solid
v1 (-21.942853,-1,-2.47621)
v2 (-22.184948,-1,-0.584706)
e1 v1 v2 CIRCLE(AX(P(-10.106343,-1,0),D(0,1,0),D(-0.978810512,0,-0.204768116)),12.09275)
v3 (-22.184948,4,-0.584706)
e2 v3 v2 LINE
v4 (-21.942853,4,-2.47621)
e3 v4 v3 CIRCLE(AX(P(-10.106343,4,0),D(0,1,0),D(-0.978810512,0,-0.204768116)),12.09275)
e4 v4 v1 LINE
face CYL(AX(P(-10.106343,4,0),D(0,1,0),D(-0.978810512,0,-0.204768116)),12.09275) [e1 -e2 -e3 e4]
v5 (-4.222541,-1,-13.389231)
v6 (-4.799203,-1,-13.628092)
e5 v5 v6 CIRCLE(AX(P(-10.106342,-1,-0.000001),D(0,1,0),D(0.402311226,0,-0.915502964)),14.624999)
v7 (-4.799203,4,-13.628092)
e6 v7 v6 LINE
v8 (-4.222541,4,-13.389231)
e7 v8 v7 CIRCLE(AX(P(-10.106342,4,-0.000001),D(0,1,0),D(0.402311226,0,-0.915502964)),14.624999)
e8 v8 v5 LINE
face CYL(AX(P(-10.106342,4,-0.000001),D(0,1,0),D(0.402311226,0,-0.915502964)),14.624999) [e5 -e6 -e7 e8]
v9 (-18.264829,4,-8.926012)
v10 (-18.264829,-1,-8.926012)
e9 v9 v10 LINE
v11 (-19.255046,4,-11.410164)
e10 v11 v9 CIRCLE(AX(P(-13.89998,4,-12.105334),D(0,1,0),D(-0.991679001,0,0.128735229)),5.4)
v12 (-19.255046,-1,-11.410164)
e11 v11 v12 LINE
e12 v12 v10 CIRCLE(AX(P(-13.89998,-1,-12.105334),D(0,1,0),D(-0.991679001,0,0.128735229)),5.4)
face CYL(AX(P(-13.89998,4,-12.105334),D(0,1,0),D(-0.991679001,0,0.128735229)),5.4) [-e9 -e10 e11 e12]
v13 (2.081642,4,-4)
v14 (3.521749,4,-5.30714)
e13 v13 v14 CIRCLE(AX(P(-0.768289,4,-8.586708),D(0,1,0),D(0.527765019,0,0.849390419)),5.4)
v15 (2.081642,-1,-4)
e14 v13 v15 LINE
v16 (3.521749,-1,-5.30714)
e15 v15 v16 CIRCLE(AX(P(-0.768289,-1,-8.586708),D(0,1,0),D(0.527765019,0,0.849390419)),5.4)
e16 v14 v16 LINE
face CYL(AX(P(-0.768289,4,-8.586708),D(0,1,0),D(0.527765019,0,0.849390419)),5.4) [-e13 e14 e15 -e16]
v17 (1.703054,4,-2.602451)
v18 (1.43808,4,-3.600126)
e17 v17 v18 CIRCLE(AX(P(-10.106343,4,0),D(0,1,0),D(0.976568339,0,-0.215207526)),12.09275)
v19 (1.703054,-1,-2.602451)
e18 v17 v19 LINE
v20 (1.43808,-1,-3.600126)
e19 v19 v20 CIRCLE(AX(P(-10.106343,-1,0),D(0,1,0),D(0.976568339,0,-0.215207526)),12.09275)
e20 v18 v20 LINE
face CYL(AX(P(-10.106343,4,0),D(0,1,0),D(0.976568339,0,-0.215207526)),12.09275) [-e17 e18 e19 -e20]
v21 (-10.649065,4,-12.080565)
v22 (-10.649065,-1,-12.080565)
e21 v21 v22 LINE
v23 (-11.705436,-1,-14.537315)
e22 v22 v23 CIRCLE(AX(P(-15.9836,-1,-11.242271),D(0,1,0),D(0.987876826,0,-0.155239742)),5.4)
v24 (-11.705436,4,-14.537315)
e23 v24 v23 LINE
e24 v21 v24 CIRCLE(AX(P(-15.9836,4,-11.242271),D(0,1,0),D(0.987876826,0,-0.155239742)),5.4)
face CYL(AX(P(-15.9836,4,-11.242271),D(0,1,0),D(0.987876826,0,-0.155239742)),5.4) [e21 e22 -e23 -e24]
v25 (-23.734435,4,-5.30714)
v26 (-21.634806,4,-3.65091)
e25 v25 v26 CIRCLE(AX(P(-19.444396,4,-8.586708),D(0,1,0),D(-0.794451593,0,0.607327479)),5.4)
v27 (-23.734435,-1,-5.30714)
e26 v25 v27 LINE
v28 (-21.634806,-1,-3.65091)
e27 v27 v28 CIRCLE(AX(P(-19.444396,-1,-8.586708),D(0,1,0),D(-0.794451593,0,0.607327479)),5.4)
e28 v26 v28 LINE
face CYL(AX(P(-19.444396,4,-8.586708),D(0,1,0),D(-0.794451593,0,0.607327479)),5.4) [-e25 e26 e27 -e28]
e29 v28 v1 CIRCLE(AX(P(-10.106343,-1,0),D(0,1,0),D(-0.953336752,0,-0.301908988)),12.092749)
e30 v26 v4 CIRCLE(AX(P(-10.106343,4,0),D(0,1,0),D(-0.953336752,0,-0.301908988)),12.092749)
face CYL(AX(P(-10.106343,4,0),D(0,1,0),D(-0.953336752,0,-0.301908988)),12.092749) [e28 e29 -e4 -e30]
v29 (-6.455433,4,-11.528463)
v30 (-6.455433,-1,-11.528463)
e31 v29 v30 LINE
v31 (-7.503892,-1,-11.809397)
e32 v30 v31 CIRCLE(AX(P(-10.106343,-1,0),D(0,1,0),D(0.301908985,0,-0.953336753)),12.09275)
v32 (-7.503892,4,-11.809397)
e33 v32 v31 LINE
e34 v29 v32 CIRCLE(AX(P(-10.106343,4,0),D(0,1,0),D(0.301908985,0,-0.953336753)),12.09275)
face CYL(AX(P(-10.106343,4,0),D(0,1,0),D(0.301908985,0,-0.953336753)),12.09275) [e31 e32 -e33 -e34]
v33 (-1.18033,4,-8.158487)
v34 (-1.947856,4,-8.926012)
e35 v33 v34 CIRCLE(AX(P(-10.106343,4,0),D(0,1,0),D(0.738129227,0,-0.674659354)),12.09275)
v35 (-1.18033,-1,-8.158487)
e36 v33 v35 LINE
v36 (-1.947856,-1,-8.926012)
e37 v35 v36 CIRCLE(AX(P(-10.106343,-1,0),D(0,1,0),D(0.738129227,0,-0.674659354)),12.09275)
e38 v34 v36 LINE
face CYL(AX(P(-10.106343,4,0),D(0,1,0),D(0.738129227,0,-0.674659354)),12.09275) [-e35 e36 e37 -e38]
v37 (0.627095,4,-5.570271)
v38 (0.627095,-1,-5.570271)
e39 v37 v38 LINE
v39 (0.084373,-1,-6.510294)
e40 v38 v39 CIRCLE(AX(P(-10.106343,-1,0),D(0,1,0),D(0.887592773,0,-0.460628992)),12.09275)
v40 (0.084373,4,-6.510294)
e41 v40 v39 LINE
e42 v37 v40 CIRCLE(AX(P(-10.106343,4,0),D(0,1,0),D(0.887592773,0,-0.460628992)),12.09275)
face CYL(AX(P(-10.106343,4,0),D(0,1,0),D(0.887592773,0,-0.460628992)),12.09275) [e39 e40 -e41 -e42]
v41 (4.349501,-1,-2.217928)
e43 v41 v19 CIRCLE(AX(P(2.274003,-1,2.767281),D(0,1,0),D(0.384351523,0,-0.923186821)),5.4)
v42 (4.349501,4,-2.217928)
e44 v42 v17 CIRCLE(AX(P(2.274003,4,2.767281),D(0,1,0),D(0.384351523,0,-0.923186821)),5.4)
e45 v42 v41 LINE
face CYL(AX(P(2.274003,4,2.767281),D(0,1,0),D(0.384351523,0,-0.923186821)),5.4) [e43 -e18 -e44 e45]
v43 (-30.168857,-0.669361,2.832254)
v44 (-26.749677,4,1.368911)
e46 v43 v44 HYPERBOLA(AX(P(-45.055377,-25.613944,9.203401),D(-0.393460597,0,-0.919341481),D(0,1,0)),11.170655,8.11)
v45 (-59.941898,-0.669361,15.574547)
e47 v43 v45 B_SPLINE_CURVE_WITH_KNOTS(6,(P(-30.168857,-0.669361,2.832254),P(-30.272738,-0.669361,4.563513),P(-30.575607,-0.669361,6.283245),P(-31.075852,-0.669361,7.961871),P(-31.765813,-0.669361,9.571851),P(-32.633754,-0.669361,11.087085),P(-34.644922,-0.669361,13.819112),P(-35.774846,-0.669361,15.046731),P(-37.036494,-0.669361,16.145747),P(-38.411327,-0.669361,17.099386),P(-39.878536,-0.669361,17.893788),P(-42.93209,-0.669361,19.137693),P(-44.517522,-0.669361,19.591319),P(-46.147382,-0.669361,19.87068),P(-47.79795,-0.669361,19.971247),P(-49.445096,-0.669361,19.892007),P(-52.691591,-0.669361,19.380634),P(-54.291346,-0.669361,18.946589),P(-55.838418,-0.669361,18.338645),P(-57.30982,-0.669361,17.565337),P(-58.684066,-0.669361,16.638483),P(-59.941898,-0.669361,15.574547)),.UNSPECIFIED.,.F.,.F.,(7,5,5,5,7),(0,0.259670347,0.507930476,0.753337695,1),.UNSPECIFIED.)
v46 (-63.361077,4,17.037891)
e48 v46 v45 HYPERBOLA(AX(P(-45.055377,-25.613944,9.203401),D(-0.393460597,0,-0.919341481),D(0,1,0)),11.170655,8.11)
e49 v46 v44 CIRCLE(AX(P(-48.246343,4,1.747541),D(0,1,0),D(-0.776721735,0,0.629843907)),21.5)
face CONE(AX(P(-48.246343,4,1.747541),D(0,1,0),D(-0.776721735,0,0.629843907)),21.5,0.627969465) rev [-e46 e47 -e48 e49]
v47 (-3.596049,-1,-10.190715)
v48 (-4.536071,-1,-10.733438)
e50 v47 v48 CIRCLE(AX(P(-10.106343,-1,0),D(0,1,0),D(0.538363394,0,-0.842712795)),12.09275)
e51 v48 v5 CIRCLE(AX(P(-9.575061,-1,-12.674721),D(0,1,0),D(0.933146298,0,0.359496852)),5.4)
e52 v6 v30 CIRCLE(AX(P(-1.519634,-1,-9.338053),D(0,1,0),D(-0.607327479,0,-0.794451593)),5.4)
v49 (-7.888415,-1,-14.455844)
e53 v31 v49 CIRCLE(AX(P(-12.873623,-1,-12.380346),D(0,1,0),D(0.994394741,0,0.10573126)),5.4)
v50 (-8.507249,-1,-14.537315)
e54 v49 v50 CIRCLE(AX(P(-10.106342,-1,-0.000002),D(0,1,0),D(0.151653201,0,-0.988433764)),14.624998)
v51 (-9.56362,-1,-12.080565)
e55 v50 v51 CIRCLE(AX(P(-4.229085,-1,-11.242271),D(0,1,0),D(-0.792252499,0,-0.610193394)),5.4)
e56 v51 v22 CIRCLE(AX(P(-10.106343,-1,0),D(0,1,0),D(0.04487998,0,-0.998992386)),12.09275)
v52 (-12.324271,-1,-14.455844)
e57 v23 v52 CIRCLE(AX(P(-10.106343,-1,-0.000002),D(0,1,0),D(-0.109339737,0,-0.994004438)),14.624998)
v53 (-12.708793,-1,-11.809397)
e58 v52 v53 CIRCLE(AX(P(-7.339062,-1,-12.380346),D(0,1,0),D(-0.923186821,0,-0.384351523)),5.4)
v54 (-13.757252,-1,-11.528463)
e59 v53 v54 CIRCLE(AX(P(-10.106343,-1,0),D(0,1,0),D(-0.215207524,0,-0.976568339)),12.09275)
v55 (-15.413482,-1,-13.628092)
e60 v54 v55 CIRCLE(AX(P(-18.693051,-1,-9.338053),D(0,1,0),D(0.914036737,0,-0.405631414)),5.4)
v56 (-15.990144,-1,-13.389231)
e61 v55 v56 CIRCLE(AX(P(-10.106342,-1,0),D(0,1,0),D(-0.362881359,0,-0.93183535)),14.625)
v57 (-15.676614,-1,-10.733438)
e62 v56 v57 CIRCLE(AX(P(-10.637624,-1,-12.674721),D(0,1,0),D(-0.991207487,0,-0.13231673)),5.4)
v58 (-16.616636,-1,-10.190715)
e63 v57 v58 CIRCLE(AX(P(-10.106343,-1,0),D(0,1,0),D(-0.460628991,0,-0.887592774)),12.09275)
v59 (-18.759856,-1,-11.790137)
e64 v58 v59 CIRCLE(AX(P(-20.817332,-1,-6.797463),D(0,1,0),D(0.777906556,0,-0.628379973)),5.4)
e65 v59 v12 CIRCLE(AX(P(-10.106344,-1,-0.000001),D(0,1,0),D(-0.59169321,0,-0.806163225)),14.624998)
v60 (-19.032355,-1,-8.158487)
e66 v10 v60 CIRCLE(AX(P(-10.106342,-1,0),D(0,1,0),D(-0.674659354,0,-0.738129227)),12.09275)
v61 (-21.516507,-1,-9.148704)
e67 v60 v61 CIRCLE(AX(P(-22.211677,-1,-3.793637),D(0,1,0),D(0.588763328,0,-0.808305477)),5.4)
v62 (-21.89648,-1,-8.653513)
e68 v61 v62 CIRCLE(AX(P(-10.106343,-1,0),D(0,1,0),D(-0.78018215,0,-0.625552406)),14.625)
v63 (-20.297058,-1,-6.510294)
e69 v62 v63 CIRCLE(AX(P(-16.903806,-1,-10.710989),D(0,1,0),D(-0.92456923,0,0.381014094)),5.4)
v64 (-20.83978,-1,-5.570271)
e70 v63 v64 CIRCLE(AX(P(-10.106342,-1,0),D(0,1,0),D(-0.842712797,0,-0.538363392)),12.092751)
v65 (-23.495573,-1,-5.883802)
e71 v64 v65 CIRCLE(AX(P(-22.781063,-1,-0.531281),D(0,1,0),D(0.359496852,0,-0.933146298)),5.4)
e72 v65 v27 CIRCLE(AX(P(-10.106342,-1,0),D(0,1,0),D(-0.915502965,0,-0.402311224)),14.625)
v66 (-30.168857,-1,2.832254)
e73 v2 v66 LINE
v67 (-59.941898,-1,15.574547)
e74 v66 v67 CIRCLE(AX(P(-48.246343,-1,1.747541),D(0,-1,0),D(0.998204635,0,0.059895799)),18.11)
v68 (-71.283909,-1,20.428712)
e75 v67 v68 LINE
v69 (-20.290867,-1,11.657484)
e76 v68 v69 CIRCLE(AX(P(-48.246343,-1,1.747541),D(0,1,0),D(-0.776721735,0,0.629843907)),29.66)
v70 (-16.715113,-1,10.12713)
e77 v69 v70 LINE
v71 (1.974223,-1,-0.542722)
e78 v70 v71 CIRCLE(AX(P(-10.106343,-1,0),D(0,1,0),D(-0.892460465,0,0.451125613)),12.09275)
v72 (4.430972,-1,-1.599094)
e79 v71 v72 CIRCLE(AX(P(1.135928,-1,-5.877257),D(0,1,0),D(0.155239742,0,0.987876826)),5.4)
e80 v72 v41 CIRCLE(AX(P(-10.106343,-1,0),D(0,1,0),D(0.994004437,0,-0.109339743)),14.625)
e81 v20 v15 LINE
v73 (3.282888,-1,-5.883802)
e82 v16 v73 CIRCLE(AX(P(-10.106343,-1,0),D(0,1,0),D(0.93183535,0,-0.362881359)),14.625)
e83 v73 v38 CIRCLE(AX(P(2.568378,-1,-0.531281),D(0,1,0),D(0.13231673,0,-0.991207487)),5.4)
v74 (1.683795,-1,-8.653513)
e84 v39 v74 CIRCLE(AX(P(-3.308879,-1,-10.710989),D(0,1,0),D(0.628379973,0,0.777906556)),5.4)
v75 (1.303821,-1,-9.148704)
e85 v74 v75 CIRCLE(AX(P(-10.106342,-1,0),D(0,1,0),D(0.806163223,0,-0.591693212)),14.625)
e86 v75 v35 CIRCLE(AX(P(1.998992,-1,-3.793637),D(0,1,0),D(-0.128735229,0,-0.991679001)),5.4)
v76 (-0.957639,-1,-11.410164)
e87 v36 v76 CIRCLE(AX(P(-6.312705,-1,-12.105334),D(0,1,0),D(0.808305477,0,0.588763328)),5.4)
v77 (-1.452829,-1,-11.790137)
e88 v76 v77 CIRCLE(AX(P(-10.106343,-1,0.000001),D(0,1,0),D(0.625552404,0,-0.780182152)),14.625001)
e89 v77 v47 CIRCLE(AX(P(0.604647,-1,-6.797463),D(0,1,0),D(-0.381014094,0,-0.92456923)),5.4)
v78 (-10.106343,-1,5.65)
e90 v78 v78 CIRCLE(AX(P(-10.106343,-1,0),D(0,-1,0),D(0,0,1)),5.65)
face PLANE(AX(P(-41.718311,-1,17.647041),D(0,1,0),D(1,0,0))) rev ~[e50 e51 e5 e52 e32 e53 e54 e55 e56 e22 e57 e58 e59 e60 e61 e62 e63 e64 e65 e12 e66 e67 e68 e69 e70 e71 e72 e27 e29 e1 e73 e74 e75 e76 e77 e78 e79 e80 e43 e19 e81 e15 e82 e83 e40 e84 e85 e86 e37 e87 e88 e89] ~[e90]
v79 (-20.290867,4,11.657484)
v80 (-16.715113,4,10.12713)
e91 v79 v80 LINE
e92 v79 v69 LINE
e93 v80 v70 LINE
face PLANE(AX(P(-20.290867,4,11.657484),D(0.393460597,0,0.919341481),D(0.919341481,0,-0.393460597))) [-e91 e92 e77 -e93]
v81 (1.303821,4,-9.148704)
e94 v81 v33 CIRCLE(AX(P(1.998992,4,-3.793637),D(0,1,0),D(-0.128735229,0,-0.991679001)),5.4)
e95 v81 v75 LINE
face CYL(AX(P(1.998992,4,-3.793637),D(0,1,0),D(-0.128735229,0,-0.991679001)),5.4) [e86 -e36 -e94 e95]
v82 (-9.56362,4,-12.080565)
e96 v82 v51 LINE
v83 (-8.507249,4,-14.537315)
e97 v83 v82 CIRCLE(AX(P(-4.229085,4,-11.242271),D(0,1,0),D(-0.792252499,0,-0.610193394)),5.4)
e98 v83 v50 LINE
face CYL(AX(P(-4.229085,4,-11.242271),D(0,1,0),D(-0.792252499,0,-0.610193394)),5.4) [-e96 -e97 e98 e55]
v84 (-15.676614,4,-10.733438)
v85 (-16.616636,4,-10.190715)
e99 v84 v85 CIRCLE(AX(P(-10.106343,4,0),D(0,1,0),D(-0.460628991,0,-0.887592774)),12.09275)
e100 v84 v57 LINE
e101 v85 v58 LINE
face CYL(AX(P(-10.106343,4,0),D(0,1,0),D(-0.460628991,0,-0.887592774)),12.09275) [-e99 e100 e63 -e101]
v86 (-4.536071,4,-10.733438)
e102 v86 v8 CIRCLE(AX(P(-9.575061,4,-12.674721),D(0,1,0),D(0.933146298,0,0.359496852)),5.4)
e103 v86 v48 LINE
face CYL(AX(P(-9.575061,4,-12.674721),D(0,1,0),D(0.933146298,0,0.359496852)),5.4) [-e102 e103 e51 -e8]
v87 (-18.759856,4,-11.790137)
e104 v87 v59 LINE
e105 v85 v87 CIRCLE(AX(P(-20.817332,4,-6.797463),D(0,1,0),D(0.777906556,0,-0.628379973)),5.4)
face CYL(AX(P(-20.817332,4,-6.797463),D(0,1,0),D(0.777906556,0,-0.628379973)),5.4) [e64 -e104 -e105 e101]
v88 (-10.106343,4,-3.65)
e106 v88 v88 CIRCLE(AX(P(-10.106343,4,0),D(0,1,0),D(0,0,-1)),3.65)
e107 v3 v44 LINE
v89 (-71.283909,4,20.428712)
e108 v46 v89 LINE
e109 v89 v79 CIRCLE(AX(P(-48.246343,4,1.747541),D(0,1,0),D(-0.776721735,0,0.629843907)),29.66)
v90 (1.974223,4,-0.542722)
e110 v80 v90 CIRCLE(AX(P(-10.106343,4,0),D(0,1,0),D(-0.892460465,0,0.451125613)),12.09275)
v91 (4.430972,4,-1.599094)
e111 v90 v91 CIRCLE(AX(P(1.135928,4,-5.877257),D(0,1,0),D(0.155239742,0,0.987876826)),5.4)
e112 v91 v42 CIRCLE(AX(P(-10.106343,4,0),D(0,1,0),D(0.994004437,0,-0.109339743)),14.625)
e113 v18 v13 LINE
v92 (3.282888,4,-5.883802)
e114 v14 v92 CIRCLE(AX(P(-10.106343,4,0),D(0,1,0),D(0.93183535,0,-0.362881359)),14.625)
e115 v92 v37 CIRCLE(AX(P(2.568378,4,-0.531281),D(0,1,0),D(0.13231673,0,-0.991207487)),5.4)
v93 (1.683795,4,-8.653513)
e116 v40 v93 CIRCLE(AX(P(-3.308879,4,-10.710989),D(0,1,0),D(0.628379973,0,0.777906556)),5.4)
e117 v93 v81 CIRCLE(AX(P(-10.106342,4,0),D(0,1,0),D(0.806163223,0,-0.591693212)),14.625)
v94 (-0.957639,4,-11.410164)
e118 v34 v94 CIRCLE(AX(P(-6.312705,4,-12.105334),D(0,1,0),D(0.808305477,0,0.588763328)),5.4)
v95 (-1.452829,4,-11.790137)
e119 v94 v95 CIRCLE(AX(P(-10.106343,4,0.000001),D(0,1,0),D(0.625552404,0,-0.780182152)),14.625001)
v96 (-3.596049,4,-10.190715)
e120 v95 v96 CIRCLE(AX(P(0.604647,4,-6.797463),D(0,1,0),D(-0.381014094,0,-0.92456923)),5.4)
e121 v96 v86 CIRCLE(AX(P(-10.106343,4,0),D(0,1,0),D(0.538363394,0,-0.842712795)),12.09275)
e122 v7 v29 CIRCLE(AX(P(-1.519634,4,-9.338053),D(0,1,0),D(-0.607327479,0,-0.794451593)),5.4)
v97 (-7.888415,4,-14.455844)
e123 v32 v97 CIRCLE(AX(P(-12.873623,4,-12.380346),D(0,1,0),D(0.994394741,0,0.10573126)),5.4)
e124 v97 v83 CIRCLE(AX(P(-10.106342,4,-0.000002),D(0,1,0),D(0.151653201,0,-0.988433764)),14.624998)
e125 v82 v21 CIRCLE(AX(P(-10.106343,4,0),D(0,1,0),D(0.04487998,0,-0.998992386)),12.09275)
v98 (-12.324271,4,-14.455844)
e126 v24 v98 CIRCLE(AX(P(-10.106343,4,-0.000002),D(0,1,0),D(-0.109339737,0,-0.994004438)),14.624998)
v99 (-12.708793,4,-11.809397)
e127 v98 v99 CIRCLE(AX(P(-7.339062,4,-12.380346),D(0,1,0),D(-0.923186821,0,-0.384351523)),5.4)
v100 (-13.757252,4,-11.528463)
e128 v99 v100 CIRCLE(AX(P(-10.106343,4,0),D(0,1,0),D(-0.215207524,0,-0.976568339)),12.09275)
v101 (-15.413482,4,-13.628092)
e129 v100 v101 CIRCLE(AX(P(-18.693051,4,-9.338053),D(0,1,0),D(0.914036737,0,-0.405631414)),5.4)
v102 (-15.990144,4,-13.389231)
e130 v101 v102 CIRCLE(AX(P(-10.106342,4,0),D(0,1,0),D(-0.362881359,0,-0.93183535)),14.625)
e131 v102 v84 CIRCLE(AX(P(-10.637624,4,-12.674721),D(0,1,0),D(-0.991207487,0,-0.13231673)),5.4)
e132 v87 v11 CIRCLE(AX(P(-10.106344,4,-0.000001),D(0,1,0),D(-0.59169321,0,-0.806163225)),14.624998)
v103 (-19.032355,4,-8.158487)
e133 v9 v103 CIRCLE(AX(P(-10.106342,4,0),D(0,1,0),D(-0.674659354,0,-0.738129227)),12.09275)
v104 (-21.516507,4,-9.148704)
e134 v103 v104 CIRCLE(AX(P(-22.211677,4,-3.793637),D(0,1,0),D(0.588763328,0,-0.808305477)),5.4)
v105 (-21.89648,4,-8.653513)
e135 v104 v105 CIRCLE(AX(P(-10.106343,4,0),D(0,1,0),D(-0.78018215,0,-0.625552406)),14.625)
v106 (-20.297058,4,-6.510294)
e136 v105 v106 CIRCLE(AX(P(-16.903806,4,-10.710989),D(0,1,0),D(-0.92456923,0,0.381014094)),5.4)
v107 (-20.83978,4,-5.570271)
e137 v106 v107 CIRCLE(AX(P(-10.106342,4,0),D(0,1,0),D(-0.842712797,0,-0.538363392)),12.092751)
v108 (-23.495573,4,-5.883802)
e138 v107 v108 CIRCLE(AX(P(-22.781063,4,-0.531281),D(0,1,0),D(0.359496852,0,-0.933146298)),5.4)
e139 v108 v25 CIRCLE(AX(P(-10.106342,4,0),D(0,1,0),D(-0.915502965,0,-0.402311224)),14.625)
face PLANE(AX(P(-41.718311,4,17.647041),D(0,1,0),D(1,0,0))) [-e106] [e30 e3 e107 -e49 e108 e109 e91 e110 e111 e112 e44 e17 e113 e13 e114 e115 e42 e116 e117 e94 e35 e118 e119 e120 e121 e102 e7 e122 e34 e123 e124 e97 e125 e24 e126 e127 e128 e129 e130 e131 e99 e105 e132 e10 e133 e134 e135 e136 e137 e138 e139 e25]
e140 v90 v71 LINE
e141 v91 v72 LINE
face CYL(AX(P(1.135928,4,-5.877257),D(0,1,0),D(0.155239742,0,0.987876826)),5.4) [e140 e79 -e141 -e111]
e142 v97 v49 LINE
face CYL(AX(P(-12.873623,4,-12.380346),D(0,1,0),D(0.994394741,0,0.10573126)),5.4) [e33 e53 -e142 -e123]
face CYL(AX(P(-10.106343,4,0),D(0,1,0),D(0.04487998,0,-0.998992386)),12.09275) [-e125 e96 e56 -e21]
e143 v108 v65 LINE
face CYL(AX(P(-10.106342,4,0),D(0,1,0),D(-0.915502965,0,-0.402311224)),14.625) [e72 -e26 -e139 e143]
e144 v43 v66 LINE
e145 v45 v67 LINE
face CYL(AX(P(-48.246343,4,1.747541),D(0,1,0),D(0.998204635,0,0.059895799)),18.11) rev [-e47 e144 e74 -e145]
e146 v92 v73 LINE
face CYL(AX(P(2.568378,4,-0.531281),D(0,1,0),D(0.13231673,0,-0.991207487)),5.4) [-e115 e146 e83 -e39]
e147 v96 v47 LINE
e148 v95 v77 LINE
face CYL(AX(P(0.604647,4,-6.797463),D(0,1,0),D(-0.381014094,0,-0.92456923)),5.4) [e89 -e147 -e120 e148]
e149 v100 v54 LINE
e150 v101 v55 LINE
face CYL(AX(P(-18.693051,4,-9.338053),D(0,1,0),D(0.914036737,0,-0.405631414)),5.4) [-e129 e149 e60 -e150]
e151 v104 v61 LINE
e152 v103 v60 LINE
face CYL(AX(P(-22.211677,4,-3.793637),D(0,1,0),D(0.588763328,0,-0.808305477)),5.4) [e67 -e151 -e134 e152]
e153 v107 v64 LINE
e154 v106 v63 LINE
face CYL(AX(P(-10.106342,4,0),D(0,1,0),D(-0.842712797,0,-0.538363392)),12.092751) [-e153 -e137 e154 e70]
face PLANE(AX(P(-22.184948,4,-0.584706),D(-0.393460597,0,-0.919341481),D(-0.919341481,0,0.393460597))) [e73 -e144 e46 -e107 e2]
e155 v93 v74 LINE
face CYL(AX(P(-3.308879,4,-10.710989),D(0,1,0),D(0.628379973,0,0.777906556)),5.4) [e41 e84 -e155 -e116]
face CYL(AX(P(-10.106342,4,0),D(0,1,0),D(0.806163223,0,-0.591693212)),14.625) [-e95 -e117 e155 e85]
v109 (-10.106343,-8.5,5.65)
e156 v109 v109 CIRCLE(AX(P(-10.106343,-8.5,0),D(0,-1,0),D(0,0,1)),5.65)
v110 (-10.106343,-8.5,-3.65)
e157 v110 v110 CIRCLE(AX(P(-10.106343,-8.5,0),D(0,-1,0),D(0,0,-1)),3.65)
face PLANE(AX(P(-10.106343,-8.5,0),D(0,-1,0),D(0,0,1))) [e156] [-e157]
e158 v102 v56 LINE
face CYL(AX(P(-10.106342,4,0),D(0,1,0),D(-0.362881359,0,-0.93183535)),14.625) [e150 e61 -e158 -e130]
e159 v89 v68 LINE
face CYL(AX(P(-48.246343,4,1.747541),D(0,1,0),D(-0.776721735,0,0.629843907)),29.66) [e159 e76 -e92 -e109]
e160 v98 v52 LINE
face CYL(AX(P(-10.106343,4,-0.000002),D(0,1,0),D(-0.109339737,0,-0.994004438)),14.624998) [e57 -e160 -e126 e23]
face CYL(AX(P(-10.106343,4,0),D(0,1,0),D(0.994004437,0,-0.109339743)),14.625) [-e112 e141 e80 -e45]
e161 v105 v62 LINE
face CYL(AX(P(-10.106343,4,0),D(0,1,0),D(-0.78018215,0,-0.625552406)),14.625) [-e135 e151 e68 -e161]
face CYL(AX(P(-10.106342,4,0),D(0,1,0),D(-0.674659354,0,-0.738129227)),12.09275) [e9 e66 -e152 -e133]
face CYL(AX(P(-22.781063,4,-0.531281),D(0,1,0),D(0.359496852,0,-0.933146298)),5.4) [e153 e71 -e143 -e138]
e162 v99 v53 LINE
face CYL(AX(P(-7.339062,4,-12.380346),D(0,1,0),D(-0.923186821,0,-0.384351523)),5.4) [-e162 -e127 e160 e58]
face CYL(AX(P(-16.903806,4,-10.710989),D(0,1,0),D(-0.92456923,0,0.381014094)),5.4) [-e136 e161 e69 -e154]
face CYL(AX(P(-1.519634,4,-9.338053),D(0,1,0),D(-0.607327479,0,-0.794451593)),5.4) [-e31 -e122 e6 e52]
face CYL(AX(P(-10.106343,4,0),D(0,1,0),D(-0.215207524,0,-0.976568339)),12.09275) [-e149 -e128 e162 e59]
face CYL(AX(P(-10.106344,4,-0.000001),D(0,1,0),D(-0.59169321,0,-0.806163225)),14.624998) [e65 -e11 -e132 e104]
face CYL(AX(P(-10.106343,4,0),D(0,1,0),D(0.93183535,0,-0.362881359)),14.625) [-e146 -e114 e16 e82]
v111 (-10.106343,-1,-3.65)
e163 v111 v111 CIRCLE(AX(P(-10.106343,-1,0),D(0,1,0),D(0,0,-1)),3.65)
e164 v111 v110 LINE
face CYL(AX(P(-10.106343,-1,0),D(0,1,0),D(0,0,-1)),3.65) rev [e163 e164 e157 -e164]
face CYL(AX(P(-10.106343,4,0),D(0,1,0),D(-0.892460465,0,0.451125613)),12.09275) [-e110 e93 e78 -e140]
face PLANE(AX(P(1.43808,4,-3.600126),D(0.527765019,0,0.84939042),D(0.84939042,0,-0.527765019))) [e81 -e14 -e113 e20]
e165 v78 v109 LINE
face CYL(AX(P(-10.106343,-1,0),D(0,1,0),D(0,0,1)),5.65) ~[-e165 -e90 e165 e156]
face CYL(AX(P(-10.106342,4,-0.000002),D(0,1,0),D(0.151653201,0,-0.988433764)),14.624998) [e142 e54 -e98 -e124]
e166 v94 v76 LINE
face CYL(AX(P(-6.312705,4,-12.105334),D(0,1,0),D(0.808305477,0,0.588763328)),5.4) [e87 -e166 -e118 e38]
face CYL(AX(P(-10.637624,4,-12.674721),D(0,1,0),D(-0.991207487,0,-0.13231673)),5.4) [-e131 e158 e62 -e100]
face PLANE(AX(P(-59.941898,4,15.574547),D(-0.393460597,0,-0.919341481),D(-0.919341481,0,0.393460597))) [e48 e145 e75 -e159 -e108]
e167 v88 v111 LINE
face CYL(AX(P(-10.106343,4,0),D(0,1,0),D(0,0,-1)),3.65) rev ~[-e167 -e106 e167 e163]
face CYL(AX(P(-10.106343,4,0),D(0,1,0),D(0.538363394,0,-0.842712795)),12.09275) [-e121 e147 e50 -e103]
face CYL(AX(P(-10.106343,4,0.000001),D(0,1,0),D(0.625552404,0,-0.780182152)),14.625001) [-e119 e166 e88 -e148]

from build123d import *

# Parameters (mm, degrees)
SKETCH1_R           = 3.65
BOSS_EXTRUDE1_DEPTH = 5
SKETCH_1_R          = 5.65
SKETCH_1_R_2        = 3.65
EXTRUDE_1_DEPTH     = 7.5
EXTRUDE_2_DEPTH     = 5


with BuildPart() as part:
    # Sketch1 → Boss-Extrude1 (new body)
    with BuildSketch(Plane(origin=(0, 4, 0), x_dir=(1, 0, 0), z_dir=(0, 1, 0))):
        with BuildLine():
            Line((1.43808022, 3.600125745), (2.081641936, 4))
            ThreePointArc((2.081641936, 4), (2.861028333, 4.588201733), (3.521749436, 5.30713988))
            ThreePointArc((3.521749436, 5.30713988), (3.405395609, 5.596745198), (3.282888305, 5.883801663))
            ThreePointArc((3.282888305, 5.883801663), (1.93527598, 5.894040025), (0.627094961, 5.57027124))
            ThreePointArc((0.627094961, 5.57027124), (0.366286148, 6.046375), (0.084372603, 6.510293938))
            ThreePointArc((0.084372603, 6.510293938), (1.018855105, 7.48132754), (1.683794586, 8.65351323))
            ThreePointArc((1.683794586, 8.65351323), (1.496450048, 8.903135899), (1.303821399, 9.148703928))
            ThreePointArc((1.303821399, 9.148703928), (-0.000522033, 8.809805691), (-1.180330337, 8.158486898))
            ThreePointArc((-1.180330337, 8.158486898), (-1.555477026, 8.550865528), (-1.947855656, 8.926012217))
            ThreePointArc((-1.947855656, 8.926012217), (-1.296536862, 10.105820521), (-0.957638625, 11.410163953))
            ThreePointArc((-0.957638625, 11.410163953), (-1.203206655, 11.602792602), (-1.452829324, 11.79013714))
            ThreePointArc((-1.452829324, 11.79013714), (-2.625015014, 11.125197659), (-3.596048616, 10.190715157))
            ThreePointArc((-3.596048616, 10.190715157), (-4.059967554, 10.472628702), (-4.536071314, 10.733437515))
            ThreePointArc((-4.536071314, 10.733437515), (-4.212302529, 12.041618533), (-4.222540891, 13.389230859))
            ThreePointArc((-4.222540891, 13.389230859), (-4.509597355, 13.511738163), (-4.799202674, 13.62809199))
            ThreePointArc((-4.799202674, 13.62809199), (-5.759348103, 12.682425791), (-6.455432668, 11.528463019))
            ThreePointArc((-6.455432668, 11.528463019), (-6.976508546, 11.680699536), (-7.503891752, 11.809396783))
            ThreePointArc((-7.503891752, 11.809396783), (-7.529737283, 13.156800143), (-7.888414517, 14.455843809))
            ThreePointArc((-7.888414517, 14.455843809), (-8.197396993, 14.499881098), (-8.507248835, 14.537314892))
            ThreePointArc((-8.507248835, 14.537314892), (-9.18992168, 13.375367565), (-9.563620196, 12.080565177))
            ThreePointArc((-9.563620196, 12.080565177), (-10.106342554, 12.09275), (-10.649064912, 12.080565177))
            ThreePointArc((-10.649064912, 12.080565177), (-11.022763428, 13.375367565), (-11.705436272, 14.537314892))
            ThreePointArc((-11.705436272, 14.537314892), (-12.015288115, 14.499881098), (-12.324270591, 14.455843809))
            ThreePointArc((-12.324270591, 14.455843809), (-12.682947825, 13.156800143), (-12.708793355, 11.809396783))
            ThreePointArc((-12.708793355, 11.809396783), (-13.236176561, 11.680699536), (-13.757252439, 11.528463019))
            ThreePointArc((-13.757252439, 11.528463019), (-14.453337005, 12.682425791), (-15.413482434, 13.62809199))
            ThreePointArc((-15.413482434, 13.62809199), (-15.703087752, 13.511738163), (-15.990144217, 13.389230859))
            ThreePointArc((-15.990144217, 13.389230859), (-16.000382579, 12.041618533), (-15.676613793, 10.733437515))
            ThreePointArc((-15.676613793, 10.733437515), (-16.152717554, 10.472628702), (-16.616636492, 10.190715157))
            ThreePointArc((-16.616636492, 10.190715157), (-17.587670094, 11.125197659), (-18.759855783, 11.79013714))
            ThreePointArc((-18.759855783, 11.79013714), (-19.009478453, 11.602792602), (-19.255046482, 11.410163953))
            ThreePointArc((-19.255046482, 11.410163953), (-18.916148245, 10.105820521), (-18.264829452, 8.926012217))
            ThreePointArc((-18.264829452, 8.926012217), (-18.657208082, 8.550865528), (-19.032354771, 8.158486898))
            ThreePointArc((-19.032354771, 8.158486898), (-20.212163074, 8.809805691), (-21.516506507, 9.148703928))
            ThreePointArc((-21.516506507, 9.148703928), (-21.709135156, 8.903135899), (-21.896479694, 8.65351323))
            ThreePointArc((-21.896479694, 8.65351323), (-21.231540213, 7.48132754), (-20.297057711, 6.510293938))
            ThreePointArc((-20.297057711, 6.510293938), (-20.578971255, 6.046375), (-20.839780068, 5.57027124))
            ThreePointArc((-20.839780068, 5.57027124), (-22.147961087, 5.894040025), (-23.495573413, 5.883801663))
            ThreePointArc((-23.495573413, 5.883801663), (-23.618080717, 5.596745198), (-23.734434544, 5.30713988))
            ThreePointArc((-23.734434544, 5.30713988), (-22.788768345, 4.346994451), (-21.634805572, 3.650909885))
            ThreePointArc((-21.634805572, 3.650909885), (-21.803584999, 3.067429176), (-21.942853375, 2.47620963))
            ThreePointArc((-21.942853375, 2.47620963), (-22.095637401, -1.578420611), (-20.898643838, -5.455349261))
            ThreePointArc((-20.898643838, -5.455349261), (-7.038913378, -11.697242445), (1.974222624, 0.542722358))
            ThreePointArc((1.974222624, 0.542722358), (3.269025011, 0.916420874), (4.430972339, 1.599093719))
            ThreePointArc((4.430972339, 1.599093719), (4.393538544, 1.908945561), (4.349501255, 2.217928037))
            ThreePointArc((4.349501255, 2.217928037), (3.050457589, 2.576605271), (1.70305423, 2.602450802))
            ThreePointArc((1.70305423, 2.602450802), (1.581217534, 3.104116905), (1.43808022, 3.600125745))
        make_face()
        with Locations(Location((-10.106342554, 0, 0), (0, 0, 90))):
            Circle(SKETCH1_R, mode=Mode.SUBTRACT)
    extrude(amount=-BOSS_EXTRUDE1_DEPTH)

    # 草图1 → 凸台-拉伸1 (add)
    with BuildSketch(Plane.XZ.offset(1)):
        with Locations(Location((-10.106342554, 0, 0), (0, 0, 90))):
            Circle(SKETCH_1_R)
        with Locations(Location((-10.106342554, 0, 0), (0, 0, 270))):
            Circle(SKETCH_1_R_2, mode=Mode.SUBTRACT)
    extrude(amount=EXTRUDE_1_DEPTH)

    # 草图2 → 凸台-拉伸2 (add)
    with BuildSketch(Plane(origin=(0, 4, 0), x_dir=(1, 0, 0), z_dir=(0, 1, 0))):
        with BuildLine():
            Line((-20.290866754, -11.657484407), (-16.715112634, -10.127129929))
            Line((-16.715112634, -10.127129929), (-22.184948493, 0.584706011))
            Line((-22.184948493, 0.584706011), (-30.168856615, -2.832254199))
            ThreePointArc((-30.168856615, -2.832254199), (-41.120771134, -18.396815496), (-59.941897602, -15.574547178))
            Line((-59.941897602, -15.574547178), (-71.283909207, -20.428711551))
            ThreePointArc((-71.283909207, -20.428711551), (-43.218414154, -30.97827059), (-20.290866754, -11.657484407))
        make_face()
    extrude(amount=-EXTRUDE_2_DEPTH)

    # 草图3 → 切除-旋转1 (revolve, cut)
    with BuildSketch(Plane(origin=(-18.284564858, 0, -22.548473972), x_dir=(0.7767217347580433, 0, -0.6298439066581941), z_dir=(0.6298439066581941, 0, 0.7767217347580433))):
        Polygon((-60.074661111, 4), (-56.274661111, -1.234092457), (-56.274661111, 4), align=None)
    revolve(axis=Axis((-48.246342554, -1, 1.74754128), (0, 1, 0)), mode=Mode.SUBTRACT)


solid = part.part
